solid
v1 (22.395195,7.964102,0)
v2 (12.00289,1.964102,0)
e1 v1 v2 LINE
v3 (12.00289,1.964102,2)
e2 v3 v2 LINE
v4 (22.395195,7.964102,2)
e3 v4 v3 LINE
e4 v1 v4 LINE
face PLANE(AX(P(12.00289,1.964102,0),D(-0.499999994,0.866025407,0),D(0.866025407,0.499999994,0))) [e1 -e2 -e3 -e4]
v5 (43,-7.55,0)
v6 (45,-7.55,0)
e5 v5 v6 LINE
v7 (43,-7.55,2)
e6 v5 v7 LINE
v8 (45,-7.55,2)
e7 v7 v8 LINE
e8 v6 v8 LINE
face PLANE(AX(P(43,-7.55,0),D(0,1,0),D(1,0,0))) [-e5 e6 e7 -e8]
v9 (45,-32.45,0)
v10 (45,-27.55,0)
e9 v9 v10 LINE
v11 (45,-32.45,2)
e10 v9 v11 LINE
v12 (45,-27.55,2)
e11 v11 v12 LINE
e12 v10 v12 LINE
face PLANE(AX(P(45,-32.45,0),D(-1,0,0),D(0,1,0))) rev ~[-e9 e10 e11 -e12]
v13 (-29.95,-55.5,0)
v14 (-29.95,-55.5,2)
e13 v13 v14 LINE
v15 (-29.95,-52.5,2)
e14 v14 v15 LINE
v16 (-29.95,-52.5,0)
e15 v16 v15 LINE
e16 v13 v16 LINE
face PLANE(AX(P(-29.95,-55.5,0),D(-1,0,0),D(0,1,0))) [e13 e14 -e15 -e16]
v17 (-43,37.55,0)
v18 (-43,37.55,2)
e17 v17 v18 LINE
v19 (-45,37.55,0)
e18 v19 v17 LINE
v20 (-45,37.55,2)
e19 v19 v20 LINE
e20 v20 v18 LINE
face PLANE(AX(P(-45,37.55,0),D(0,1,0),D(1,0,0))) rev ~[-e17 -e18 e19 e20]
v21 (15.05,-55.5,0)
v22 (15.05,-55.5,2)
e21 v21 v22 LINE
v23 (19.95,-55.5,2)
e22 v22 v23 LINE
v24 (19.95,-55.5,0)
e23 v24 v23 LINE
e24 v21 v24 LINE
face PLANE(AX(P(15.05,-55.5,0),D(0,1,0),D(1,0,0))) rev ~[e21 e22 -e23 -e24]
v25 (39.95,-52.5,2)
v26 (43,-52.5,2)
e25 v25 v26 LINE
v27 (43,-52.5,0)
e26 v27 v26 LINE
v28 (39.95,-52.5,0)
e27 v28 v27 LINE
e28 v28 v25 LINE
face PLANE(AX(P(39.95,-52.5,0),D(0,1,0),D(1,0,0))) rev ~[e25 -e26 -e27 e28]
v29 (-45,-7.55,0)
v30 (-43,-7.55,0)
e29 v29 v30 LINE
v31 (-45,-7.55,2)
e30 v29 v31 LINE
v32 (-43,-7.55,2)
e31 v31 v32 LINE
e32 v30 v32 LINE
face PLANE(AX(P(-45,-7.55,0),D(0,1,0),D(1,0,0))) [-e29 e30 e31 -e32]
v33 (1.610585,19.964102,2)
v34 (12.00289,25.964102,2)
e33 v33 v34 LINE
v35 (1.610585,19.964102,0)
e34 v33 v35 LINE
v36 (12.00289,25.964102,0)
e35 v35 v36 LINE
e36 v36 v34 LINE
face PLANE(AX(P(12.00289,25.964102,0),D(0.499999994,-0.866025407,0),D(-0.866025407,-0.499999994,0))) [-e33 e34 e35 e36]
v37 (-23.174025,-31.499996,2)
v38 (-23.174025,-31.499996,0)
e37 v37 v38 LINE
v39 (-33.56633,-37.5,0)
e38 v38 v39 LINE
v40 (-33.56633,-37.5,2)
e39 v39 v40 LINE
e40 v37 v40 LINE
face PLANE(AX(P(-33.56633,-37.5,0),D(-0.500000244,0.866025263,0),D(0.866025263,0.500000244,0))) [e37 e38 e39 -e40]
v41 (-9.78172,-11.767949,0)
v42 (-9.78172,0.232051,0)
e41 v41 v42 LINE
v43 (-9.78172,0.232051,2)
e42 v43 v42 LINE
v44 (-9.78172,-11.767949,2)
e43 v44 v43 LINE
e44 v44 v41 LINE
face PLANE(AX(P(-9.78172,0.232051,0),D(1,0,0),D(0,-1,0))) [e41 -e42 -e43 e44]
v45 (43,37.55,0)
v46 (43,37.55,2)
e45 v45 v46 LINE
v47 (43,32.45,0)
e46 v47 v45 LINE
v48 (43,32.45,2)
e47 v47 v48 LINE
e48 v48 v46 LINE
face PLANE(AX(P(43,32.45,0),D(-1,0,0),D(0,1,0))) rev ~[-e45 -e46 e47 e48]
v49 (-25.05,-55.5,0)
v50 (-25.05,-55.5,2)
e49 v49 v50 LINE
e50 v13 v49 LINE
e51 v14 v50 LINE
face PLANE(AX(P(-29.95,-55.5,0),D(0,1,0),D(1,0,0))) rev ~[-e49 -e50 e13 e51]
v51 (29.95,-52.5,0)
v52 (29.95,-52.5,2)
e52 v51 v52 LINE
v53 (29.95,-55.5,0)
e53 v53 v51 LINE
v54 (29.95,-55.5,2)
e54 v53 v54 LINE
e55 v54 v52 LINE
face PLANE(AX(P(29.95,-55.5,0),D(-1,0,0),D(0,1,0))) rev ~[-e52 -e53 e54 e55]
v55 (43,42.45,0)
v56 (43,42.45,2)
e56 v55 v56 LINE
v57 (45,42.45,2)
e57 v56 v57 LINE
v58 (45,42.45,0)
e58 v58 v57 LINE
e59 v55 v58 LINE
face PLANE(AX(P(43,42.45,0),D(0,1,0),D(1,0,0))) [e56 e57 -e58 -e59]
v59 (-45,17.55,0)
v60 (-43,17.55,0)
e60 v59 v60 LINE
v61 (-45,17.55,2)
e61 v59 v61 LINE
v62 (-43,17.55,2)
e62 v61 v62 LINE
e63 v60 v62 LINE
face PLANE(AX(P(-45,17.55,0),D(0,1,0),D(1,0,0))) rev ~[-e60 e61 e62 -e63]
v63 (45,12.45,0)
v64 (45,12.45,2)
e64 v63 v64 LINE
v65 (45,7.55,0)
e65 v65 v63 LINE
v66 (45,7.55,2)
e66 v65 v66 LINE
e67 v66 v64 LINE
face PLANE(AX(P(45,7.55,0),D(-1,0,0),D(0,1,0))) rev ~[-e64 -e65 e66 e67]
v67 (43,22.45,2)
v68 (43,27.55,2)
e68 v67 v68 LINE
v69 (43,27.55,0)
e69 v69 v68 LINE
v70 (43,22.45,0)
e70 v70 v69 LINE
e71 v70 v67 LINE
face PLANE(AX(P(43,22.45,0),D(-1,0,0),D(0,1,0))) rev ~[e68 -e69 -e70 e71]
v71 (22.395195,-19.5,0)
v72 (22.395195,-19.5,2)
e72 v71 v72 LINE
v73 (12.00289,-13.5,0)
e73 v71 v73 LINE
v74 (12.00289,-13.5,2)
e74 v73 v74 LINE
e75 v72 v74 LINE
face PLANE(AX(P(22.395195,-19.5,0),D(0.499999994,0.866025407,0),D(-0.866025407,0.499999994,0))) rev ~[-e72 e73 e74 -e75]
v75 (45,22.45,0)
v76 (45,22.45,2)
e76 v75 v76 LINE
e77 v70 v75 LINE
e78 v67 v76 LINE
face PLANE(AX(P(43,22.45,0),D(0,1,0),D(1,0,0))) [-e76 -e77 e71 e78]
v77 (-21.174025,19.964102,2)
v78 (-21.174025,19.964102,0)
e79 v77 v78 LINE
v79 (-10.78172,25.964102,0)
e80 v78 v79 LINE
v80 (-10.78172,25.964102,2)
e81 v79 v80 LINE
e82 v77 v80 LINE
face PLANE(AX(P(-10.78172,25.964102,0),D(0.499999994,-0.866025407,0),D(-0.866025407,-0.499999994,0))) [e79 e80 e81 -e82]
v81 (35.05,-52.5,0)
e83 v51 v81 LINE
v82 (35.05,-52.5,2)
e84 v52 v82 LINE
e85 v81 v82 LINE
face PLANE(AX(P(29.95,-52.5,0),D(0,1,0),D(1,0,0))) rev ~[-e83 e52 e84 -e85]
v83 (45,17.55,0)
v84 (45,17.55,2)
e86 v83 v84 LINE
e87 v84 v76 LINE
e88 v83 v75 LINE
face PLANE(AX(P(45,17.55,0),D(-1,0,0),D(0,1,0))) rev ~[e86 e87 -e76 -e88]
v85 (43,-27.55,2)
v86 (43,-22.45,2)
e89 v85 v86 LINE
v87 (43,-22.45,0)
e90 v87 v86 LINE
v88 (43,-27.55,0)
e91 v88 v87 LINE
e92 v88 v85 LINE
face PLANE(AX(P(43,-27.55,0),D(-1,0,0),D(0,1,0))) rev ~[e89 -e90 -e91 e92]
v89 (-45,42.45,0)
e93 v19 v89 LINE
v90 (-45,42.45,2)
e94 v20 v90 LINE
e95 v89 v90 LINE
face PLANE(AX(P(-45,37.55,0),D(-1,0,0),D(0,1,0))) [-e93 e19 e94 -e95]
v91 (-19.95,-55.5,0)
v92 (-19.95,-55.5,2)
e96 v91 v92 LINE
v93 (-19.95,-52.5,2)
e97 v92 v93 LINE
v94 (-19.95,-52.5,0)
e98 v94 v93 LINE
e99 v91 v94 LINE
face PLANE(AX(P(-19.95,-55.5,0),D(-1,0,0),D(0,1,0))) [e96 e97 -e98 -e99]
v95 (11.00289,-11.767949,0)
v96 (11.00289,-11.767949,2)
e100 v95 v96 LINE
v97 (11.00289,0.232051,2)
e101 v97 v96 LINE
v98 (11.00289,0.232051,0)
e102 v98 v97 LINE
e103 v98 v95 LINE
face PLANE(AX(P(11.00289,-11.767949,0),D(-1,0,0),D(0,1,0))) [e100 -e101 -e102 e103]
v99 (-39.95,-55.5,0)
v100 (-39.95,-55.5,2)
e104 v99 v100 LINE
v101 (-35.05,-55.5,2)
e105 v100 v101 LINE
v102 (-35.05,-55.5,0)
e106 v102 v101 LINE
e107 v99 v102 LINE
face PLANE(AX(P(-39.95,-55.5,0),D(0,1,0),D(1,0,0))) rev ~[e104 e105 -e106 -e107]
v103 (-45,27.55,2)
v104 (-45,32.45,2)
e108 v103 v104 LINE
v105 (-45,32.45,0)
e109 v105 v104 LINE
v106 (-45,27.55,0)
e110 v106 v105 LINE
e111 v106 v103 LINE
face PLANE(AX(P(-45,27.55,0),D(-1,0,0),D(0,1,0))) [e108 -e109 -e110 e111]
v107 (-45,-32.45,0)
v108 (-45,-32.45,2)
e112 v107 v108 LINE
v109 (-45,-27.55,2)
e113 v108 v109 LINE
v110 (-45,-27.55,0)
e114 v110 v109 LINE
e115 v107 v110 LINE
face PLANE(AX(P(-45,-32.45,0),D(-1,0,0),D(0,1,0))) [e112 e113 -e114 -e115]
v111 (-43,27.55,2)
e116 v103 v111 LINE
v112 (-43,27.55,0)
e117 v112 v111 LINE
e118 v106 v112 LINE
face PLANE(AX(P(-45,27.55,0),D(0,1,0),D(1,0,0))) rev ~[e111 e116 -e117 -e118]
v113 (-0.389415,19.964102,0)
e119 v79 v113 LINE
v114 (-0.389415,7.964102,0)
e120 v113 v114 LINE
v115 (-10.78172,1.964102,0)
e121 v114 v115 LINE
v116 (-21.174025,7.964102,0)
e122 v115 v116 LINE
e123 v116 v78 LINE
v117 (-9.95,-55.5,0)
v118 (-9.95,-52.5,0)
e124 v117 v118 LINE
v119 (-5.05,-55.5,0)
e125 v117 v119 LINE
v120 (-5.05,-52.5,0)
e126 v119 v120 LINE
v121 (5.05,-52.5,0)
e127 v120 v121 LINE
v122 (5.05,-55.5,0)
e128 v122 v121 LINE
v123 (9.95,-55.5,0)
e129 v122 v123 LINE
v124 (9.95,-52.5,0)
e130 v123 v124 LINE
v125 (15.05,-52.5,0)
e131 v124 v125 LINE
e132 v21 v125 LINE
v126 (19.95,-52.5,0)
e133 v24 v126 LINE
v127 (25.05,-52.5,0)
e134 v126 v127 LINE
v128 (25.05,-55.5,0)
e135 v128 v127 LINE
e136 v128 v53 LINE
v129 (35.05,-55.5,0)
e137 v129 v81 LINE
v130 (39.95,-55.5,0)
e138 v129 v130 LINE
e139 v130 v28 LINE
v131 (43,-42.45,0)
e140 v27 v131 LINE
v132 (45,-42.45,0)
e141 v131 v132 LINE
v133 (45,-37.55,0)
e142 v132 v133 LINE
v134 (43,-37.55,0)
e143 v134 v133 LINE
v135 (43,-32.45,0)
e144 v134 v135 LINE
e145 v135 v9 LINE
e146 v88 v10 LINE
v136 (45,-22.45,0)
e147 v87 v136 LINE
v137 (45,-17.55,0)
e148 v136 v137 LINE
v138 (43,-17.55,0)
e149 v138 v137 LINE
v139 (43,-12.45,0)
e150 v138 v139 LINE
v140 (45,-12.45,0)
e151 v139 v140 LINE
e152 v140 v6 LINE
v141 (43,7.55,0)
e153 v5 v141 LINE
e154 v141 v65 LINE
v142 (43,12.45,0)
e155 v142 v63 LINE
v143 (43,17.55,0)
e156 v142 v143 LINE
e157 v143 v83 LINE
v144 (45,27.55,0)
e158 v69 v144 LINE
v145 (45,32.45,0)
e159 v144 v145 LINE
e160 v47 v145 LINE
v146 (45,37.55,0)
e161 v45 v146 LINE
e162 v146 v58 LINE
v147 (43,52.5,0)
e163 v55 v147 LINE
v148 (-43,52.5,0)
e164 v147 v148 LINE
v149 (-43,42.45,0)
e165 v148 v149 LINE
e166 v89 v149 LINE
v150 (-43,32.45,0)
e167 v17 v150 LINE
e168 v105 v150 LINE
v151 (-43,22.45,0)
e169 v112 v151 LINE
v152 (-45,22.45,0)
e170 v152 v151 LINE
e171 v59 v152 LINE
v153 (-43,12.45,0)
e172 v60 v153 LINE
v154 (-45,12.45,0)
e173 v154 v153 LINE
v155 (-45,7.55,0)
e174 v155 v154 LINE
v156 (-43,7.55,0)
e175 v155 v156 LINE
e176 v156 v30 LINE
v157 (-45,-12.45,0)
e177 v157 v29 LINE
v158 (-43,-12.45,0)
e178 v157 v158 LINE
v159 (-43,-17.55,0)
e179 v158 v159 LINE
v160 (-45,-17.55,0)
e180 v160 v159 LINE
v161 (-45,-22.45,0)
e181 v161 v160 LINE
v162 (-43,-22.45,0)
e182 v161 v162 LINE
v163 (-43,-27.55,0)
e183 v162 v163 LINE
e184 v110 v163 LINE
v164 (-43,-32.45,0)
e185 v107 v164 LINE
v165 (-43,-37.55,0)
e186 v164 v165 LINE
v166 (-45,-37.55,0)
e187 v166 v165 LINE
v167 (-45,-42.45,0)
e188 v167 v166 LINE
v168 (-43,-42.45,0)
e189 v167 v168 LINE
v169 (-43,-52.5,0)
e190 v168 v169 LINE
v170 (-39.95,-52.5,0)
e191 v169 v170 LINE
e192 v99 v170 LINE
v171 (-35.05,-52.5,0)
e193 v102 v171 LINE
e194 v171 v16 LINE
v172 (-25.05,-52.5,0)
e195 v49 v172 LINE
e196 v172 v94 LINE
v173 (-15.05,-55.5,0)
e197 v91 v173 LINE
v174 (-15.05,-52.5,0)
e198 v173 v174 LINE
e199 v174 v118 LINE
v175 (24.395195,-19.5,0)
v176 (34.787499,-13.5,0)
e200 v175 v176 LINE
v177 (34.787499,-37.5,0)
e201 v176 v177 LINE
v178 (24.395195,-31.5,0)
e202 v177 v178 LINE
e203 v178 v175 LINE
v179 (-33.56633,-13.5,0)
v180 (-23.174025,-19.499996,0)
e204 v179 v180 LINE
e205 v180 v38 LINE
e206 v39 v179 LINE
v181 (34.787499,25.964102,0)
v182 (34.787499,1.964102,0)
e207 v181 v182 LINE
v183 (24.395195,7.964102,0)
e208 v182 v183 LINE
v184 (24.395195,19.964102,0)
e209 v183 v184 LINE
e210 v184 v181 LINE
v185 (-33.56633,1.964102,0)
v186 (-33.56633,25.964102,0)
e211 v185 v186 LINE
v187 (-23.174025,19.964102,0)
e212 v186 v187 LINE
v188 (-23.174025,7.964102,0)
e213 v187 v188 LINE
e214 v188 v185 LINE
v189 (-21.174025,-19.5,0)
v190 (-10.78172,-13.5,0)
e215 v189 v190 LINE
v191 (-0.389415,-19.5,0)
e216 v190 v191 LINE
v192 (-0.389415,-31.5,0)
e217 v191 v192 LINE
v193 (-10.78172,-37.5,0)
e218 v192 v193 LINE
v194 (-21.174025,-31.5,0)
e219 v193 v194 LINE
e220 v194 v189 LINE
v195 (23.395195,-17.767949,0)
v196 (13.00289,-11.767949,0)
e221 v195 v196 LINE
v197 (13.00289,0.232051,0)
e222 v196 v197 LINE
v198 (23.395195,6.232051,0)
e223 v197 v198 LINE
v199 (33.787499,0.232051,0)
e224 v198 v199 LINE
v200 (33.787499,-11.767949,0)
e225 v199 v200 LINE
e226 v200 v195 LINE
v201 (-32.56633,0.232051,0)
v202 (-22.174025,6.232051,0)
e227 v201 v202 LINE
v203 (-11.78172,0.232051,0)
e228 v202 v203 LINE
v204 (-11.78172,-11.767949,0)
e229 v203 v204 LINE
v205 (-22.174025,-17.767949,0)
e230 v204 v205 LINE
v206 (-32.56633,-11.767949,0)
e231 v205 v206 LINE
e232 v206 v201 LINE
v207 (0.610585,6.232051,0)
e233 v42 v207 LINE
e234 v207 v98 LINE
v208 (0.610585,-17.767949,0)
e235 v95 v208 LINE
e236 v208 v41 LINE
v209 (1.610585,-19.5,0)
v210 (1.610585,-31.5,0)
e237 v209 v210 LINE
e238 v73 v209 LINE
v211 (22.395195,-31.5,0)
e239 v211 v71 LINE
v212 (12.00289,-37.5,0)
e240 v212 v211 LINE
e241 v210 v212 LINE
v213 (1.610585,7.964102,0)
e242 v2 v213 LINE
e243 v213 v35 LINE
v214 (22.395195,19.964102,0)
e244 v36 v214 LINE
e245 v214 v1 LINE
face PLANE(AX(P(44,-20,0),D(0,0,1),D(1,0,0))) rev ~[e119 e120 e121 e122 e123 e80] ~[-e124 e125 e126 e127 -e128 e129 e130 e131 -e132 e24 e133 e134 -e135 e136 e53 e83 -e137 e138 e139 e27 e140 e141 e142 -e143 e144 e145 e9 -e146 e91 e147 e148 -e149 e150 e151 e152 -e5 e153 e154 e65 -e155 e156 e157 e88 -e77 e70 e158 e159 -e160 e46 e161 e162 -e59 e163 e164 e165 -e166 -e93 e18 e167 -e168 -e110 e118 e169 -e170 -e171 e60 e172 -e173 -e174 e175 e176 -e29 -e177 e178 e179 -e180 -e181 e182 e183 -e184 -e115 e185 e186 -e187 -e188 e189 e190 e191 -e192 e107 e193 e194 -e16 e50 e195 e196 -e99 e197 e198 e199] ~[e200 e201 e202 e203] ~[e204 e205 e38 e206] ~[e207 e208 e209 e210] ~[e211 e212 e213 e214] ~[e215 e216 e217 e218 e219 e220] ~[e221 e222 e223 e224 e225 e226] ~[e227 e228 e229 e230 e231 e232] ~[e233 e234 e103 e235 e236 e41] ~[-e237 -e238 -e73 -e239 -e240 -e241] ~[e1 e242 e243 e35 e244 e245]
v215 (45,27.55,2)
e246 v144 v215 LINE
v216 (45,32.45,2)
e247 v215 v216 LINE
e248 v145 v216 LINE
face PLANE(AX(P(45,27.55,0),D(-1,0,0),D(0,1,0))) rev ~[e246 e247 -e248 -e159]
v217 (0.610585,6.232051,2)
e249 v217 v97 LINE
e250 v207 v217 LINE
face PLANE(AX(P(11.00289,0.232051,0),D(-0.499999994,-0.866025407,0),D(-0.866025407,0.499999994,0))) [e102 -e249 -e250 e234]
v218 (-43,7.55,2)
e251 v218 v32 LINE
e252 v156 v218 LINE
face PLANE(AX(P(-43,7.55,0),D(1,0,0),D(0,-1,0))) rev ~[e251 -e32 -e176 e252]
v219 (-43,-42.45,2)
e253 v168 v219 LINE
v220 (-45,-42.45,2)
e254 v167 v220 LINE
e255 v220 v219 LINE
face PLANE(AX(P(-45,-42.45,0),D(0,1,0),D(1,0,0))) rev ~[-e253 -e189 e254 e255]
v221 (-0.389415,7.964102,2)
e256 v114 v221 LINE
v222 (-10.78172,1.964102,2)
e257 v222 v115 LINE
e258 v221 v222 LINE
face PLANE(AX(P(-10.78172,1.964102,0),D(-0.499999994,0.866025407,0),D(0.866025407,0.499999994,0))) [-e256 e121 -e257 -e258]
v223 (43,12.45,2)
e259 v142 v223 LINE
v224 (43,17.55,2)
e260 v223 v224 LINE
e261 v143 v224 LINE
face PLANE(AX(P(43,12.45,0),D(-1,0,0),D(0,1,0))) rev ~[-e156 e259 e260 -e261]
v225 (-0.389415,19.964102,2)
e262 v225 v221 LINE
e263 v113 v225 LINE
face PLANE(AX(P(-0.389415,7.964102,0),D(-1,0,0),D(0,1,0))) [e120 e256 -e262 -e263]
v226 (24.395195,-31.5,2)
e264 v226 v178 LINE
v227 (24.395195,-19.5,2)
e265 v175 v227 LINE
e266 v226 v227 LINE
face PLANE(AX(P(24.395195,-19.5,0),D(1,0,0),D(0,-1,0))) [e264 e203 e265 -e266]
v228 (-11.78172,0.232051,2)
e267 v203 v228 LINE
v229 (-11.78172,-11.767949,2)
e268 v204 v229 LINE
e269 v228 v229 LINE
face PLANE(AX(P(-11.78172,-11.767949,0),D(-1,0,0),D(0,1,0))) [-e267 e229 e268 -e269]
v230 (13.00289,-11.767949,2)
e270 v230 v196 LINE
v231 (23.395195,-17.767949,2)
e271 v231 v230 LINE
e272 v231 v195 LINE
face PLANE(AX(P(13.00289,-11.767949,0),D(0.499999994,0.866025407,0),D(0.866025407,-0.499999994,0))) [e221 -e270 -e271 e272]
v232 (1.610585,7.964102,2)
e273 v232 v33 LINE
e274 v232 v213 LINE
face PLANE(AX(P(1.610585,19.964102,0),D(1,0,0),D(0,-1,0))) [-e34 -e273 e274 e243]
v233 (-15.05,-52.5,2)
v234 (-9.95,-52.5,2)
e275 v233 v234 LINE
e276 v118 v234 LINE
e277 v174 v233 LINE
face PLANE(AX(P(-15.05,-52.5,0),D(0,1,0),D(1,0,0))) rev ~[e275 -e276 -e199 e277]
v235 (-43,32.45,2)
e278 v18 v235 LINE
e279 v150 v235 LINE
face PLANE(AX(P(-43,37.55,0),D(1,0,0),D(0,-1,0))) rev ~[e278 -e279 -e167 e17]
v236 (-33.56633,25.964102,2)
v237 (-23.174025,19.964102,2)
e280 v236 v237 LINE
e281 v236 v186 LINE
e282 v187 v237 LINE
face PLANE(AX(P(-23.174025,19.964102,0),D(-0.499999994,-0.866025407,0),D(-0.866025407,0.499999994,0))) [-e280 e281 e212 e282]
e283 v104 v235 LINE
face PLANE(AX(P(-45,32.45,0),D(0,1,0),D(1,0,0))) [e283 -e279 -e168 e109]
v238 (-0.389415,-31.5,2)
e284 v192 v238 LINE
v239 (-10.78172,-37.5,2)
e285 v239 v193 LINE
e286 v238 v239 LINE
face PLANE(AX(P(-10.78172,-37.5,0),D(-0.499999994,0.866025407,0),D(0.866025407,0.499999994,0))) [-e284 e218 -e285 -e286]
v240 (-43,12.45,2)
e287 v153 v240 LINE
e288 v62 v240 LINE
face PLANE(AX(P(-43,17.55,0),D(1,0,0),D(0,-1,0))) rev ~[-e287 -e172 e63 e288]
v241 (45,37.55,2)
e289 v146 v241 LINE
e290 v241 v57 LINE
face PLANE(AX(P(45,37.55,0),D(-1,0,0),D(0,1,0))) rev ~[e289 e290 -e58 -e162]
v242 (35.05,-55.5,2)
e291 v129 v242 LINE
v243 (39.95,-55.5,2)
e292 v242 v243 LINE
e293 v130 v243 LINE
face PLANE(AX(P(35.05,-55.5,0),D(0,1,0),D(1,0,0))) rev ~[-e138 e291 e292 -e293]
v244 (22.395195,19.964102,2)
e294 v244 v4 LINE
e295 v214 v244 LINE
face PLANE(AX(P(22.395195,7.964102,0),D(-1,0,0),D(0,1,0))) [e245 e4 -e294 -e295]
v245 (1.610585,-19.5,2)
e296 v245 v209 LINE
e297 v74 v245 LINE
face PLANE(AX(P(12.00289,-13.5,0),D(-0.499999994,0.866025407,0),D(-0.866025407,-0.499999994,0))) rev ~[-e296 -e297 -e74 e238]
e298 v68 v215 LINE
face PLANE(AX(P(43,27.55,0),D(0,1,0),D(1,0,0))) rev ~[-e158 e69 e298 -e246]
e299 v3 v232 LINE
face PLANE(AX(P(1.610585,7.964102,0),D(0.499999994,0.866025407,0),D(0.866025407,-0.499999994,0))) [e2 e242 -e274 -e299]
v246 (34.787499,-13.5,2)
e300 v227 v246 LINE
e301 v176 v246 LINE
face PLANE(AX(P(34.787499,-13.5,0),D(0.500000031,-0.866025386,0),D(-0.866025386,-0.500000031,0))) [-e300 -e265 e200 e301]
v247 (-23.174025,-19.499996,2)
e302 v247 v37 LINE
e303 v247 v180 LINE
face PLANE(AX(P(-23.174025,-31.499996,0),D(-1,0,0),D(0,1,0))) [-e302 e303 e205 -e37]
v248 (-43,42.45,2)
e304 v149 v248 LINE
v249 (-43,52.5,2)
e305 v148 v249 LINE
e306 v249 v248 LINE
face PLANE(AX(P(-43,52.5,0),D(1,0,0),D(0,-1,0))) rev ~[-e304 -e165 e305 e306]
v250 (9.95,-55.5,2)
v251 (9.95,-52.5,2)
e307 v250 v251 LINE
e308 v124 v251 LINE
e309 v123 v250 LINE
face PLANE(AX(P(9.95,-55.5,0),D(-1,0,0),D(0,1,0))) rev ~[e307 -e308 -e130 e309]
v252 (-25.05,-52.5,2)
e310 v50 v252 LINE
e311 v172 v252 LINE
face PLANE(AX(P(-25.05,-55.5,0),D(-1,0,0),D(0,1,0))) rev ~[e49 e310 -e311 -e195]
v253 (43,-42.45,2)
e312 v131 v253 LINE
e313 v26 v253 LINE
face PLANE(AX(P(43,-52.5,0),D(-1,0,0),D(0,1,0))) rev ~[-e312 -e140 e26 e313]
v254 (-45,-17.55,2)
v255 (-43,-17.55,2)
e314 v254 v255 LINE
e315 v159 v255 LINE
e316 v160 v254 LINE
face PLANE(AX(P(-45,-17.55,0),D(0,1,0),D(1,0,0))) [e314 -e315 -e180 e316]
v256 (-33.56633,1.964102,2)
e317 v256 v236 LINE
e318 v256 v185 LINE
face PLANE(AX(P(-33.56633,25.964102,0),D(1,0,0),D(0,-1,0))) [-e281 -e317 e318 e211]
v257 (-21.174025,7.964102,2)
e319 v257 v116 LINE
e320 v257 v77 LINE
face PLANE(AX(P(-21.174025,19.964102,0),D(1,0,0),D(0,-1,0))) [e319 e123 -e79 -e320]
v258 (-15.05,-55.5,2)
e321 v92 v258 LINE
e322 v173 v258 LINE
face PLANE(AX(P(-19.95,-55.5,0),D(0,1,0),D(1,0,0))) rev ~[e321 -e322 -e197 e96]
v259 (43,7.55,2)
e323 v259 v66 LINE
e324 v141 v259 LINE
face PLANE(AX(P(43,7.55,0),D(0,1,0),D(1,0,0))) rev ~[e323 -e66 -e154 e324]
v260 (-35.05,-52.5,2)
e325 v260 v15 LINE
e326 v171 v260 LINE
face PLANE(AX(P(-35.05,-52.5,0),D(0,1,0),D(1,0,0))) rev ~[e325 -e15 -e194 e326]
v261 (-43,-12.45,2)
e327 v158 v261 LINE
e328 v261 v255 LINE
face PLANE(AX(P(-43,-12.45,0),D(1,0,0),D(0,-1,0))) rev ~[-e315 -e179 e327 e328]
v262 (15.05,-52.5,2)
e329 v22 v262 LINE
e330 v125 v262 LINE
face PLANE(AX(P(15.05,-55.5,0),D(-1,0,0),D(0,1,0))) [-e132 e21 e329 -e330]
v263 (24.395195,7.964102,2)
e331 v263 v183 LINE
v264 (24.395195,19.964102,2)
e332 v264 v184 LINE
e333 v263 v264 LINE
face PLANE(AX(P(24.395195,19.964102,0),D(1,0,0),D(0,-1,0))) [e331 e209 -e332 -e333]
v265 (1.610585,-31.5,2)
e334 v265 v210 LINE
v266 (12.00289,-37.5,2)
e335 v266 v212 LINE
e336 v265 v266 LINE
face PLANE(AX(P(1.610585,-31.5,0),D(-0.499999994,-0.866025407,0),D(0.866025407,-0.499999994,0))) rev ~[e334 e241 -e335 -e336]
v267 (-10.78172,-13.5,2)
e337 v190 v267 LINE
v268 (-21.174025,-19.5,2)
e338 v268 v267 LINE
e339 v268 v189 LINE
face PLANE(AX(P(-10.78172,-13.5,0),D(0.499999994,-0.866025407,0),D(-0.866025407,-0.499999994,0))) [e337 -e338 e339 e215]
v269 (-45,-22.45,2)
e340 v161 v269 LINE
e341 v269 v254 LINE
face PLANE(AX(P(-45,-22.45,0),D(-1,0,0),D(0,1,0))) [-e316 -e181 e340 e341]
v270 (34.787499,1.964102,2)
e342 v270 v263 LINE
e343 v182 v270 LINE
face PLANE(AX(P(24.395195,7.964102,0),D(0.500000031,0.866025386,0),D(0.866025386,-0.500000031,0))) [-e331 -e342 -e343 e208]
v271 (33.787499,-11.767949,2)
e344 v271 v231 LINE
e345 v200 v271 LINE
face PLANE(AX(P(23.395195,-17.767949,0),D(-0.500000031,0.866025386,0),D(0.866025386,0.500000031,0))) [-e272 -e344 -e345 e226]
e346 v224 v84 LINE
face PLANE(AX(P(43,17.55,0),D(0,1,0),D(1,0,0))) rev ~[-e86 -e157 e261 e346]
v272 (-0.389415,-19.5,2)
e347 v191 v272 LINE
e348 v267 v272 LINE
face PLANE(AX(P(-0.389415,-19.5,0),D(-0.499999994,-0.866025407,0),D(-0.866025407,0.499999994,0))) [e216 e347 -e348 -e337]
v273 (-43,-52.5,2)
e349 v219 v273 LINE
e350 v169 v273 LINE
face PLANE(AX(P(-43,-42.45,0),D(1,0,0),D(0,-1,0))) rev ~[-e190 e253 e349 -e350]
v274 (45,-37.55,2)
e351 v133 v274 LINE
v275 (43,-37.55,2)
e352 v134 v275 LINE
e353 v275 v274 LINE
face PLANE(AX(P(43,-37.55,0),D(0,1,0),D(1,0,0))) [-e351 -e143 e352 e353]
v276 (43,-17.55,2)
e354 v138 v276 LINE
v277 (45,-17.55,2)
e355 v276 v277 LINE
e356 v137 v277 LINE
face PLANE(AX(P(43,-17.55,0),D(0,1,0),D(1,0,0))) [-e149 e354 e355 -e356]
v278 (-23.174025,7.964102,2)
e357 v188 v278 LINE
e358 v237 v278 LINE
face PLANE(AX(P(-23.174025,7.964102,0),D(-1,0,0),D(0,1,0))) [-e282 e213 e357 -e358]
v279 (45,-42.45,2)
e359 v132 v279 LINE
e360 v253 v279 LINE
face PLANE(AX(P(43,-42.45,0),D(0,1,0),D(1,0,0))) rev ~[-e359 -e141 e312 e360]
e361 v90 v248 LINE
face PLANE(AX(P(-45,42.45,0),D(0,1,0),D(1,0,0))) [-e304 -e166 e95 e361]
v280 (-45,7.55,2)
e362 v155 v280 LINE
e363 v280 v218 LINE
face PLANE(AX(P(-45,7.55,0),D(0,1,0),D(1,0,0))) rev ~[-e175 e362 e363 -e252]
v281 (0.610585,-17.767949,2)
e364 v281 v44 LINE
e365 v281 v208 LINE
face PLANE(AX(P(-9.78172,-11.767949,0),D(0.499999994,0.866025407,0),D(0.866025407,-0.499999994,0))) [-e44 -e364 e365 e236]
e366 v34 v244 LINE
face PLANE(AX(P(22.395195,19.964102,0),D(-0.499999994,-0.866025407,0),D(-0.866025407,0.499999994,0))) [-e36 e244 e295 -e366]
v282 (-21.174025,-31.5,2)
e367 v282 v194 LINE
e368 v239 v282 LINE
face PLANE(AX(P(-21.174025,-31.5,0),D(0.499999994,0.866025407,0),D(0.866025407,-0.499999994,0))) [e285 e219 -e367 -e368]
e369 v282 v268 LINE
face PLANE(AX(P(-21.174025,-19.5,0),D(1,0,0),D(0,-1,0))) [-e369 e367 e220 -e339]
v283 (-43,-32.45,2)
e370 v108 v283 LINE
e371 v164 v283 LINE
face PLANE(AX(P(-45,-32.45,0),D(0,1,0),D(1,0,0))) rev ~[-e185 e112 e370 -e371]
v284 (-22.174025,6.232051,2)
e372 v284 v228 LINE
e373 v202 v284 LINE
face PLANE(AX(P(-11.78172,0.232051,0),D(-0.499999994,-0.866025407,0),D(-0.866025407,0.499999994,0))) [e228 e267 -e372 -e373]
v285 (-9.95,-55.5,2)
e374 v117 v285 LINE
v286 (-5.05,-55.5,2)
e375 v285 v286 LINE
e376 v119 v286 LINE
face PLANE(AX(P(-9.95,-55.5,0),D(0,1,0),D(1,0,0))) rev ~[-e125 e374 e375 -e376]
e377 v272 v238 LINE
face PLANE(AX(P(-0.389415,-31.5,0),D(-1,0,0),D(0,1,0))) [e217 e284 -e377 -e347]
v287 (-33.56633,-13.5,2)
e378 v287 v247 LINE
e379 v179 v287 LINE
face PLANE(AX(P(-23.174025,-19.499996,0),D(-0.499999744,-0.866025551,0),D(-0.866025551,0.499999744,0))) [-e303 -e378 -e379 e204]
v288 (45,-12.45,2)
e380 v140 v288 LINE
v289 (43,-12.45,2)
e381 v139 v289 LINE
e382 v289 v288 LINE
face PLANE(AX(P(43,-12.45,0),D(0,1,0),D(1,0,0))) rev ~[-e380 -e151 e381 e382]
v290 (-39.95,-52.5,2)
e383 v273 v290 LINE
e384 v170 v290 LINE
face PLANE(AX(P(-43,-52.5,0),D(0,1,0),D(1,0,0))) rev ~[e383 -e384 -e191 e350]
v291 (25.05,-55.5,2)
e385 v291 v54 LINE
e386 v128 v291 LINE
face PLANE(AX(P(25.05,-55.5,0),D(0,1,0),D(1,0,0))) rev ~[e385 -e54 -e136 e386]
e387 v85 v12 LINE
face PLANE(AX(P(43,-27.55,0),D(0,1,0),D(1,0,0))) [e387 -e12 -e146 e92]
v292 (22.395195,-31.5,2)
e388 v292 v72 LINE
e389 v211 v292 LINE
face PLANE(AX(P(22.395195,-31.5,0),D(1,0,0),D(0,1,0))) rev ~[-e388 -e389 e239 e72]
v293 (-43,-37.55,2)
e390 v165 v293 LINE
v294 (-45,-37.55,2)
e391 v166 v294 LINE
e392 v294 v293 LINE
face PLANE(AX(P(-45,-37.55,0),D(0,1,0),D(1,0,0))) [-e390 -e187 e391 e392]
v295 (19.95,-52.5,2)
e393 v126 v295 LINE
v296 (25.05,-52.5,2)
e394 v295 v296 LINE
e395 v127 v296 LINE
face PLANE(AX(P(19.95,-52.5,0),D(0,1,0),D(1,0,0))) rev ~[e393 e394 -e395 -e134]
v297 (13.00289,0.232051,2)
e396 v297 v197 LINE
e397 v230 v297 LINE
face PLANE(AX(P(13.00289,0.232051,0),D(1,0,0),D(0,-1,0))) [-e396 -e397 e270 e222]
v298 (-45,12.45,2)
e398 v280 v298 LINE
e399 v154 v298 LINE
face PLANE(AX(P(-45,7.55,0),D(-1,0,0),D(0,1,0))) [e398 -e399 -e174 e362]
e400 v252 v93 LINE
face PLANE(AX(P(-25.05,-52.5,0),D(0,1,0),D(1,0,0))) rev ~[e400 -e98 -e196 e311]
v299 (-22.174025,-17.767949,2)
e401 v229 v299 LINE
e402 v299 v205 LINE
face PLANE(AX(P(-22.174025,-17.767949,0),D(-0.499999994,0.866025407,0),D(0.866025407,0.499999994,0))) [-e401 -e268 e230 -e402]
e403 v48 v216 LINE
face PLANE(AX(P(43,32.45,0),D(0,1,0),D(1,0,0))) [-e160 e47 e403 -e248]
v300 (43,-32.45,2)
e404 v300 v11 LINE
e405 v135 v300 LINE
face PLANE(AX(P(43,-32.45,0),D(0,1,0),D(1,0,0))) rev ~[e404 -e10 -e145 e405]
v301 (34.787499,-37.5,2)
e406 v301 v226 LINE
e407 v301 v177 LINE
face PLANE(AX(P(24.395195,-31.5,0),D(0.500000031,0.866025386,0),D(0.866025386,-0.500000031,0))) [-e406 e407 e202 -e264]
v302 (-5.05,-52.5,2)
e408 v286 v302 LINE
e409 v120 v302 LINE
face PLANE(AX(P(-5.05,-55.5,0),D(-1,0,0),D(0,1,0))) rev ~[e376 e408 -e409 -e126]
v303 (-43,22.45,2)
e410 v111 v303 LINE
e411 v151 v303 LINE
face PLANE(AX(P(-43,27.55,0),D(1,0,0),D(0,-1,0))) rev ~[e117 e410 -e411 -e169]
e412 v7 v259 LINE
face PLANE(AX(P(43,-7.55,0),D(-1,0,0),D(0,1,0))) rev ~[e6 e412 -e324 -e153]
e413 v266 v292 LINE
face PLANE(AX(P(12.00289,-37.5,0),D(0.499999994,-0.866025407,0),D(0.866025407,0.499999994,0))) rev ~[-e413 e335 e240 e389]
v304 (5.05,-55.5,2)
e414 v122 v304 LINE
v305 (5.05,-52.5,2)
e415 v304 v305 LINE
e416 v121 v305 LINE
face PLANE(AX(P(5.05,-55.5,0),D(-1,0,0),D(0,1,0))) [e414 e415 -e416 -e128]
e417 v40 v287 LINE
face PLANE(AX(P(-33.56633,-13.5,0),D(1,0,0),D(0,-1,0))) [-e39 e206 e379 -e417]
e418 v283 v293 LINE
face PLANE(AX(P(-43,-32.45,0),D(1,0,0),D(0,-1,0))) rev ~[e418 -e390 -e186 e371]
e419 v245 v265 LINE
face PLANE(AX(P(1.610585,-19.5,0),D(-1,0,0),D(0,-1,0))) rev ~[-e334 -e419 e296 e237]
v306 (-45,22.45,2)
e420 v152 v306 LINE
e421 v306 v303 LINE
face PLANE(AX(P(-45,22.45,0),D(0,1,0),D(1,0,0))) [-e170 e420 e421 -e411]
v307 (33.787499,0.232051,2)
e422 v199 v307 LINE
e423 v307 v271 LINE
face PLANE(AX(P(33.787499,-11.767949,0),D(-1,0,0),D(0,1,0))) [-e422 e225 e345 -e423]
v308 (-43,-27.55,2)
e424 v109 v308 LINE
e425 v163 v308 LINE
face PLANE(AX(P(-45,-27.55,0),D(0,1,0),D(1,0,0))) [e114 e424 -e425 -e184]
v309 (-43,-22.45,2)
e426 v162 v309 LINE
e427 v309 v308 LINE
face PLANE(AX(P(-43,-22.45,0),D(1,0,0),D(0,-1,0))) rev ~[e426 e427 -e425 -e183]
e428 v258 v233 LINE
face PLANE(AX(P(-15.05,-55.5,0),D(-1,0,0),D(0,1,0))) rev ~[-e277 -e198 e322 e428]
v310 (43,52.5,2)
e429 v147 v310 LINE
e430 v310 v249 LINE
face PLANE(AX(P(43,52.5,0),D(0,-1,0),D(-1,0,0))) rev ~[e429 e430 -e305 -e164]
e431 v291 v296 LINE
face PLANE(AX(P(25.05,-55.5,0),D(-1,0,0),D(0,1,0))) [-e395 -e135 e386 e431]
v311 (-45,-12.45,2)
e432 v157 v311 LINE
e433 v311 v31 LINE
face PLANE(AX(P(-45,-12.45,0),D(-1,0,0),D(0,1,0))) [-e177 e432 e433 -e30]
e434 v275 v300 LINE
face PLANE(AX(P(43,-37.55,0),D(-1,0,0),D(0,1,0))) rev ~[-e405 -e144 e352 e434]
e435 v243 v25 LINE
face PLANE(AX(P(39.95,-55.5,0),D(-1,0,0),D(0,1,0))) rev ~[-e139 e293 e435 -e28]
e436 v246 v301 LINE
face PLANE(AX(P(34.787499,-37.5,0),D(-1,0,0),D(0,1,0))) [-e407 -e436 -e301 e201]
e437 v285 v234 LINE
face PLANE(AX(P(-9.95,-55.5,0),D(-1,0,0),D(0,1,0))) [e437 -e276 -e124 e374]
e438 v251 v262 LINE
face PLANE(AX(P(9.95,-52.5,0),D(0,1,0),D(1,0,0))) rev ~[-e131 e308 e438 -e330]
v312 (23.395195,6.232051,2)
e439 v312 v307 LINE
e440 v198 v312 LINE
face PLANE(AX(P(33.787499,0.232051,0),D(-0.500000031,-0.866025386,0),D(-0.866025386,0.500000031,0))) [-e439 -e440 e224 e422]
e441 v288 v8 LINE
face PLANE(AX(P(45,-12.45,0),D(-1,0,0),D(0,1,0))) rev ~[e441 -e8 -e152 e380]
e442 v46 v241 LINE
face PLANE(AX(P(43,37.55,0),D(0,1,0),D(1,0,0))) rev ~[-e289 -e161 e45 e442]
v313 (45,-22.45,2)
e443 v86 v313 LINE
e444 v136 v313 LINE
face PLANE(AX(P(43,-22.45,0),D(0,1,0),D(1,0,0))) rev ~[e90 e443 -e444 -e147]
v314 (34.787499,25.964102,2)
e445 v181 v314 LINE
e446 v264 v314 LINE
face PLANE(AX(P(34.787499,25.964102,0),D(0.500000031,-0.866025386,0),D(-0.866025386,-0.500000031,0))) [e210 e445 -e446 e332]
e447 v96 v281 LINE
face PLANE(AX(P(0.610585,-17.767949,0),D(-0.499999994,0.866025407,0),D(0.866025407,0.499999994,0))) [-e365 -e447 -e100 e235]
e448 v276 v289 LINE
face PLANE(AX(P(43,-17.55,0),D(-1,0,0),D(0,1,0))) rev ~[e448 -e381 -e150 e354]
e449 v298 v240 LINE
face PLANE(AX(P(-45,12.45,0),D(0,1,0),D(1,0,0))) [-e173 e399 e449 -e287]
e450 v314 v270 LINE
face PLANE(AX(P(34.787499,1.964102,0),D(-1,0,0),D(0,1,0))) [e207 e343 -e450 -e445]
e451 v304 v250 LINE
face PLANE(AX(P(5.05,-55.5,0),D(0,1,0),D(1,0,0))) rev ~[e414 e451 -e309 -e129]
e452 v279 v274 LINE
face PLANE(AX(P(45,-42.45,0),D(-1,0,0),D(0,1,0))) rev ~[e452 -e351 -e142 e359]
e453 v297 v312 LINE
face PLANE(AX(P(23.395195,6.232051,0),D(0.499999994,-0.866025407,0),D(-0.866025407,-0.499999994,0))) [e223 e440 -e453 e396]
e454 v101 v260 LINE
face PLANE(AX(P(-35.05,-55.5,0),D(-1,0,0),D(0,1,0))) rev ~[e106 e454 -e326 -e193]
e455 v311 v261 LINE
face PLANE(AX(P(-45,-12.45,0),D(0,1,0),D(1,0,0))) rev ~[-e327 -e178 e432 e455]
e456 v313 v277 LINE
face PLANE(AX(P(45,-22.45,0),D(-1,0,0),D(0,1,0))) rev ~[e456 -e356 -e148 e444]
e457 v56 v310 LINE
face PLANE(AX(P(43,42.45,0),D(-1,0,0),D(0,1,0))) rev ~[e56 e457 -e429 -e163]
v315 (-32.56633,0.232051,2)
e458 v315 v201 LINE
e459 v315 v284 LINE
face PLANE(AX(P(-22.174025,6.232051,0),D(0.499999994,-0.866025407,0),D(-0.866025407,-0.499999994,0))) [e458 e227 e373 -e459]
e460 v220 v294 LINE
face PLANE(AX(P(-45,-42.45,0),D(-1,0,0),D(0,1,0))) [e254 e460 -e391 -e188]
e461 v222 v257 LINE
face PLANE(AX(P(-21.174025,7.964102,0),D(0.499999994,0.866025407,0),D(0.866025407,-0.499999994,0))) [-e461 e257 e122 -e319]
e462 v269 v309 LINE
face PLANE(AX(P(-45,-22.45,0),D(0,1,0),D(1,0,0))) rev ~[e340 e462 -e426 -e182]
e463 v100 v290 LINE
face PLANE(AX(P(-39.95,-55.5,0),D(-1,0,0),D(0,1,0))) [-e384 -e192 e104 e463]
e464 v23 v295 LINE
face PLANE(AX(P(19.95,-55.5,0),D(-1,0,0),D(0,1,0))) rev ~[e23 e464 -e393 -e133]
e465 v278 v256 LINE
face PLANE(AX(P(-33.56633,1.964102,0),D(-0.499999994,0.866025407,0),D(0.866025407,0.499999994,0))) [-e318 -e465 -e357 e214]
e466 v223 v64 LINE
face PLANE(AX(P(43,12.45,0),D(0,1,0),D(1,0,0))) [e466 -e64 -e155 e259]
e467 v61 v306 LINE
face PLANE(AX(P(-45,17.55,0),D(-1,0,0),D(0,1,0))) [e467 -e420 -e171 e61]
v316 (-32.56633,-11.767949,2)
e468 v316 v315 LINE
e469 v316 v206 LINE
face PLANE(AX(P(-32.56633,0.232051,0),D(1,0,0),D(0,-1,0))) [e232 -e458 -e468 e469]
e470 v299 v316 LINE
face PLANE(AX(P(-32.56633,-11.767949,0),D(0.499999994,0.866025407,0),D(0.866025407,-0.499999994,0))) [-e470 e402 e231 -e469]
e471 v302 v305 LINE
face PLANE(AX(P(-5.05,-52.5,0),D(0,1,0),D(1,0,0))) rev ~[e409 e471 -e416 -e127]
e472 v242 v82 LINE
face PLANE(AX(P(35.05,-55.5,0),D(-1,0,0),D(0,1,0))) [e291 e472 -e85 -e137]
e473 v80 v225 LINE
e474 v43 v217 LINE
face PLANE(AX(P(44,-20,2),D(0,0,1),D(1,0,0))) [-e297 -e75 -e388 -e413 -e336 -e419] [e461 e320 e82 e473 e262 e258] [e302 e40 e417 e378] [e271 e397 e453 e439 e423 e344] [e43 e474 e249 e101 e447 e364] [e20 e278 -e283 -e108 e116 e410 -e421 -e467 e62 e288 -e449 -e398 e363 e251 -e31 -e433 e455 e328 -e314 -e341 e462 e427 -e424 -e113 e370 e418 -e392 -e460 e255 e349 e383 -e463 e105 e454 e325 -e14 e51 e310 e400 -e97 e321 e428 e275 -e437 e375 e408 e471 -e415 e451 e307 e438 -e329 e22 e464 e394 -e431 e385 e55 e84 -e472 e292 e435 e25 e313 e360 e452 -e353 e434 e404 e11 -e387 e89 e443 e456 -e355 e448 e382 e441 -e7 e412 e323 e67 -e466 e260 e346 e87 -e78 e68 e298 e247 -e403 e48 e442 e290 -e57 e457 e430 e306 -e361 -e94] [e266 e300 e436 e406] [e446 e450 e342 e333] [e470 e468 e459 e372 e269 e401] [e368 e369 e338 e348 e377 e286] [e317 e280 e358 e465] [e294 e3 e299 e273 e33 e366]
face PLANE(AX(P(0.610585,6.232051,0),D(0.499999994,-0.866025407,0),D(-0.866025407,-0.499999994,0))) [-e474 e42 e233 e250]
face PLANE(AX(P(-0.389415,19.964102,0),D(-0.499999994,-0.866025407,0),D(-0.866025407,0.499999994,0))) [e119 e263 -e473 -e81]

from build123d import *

# Parameters (mm, degrees)
F0_W     = 2
F0_H     = 4.9
F0_W_2   = 4.9
F0_H_2   = 3
F2_DEPTH = 2
F3_DEPTH = 12.5


with BuildPart() as f2:
    # F0 (on Top) → F2 (new body)
    with BuildSketch(Plane.XY):
        with Locations((44, -20)):
            Rectangle(F0_W, F0_H)
        with Locations((-7.5, -54)):
            Rectangle(F0_W_2, F0_H_2)
        with Locations((44, 30)):
            Rectangle(F0_W, F0_H)
        with Locations((17.5, -54)):
            Rectangle(F0_W_2, F0_H_2)
        with Locations((44, 20)):
            Rectangle(F0_W, F0_H)
        with Locations((-44, 30)):
            Rectangle(F0_W, F0_H)
        with Locations((-44, -30)):
            Rectangle(F0_W, F0_H)
        with Locations((44, 10)):
            Rectangle(F0_W, F0_H)
        with Locations((-44, 40)):
            Rectangle(F0_W, F0_H)
        with Locations((-44, -40)):
            Rectangle(F0_W, F0_H)
        with Locations((44, -10)):
            Rectangle(F0_W, F0_H)
        with Locations((-44, 20)):
            Rectangle(F0_W, F0_H)
        with Locations((-44, -20)):
            Rectangle(F0_W, F0_H)
        with Locations((44, 40)):
            Rectangle(F0_W, F0_H)
        with Locations((-44, 10)):
            Rectangle(F0_W, F0_H)
        with Locations((-44, -10)):
            Rectangle(F0_W, F0_H)
        with Locations((-27.5, -54)):
            Rectangle(F0_W_2, F0_H_2)
        with Locations((7.5, -54)):
            Rectangle(F0_W_2, F0_H_2)
        with Locations((-17.5, -54)):
            Rectangle(F0_W_2, F0_H_2)
        with Locations((-37.5, -54)):
            Rectangle(F0_W_2, F0_H_2)
        Polygon((43, 52.5), (-43, 52.5), (-43, 42.45), (-43, 37.55), (-43, 32.45), (-43, 27.55), (-43, 22.45), (-43, 17.55), (-43, 12.45), (-43, 7.55), (-43, -7.55), (-43, -12.45), (-43, -17.55), (-43, -22.45), (-43, -27.55), (-43, -32.45), (-43, -37.55), (-43, -42.45), (-43, -52.5), (-39.95, -52.5), (-35.05, -52.5), (-29.95, -52.5), (-25.05, -52.5), (-19.95, -52.5), (-15.05, -52.5), (-9.95, -52.5), (-5.05, -52.5), (5.05, -52.5), (9.95, -52.5), (15.05, -52.5), (19.95, -52.5), (25.05, -52.5), (29.95, -52.5), (35.05, -52.5), (39.95, -52.5), (43, -52.5), (43, -42.45), (43, -37.55), (43, -32.45), (43, -27.55), (43, -22.45), (43, -17.55), (43, -12.45), (43, -7.55), (43, 7.55), (43, 12.45), (43, 17.55), (43, 22.45), (43, 27.55), (43, 32.45), (43, 37.55), (43, 42.45), align=None)
        with Locations((27.5, -54)):
            Rectangle(F0_W_2, F0_H_2)
        with Locations((44, -30)):
            Rectangle(F0_W, F0_H)
        with Locations((37.5, -54)):
            Rectangle(F0_W_2, F0_H_2)
        with Locations((44, -40)):
            Rectangle(F0_W, F0_H)
    extrude(amount=F2_DEPTH)

    # F1 (on face) → F3 (cut, symmetric)
    with BuildSketch(Plane.XY):
        Polygon((-23.174025, -19.499996), (-33.56633, -13.5), (-33.56633, -37.5), (-23.174025, -31.499996), align=None)
        Polygon((-33.56633, 1.964102), (-23.174025, 7.964102), (-23.174025, 19.964102), (-33.56633, 25.964102), align=None)
        Polygon((-10.78172, 1.964102), (-0.389415, 7.964102), (-0.389415, 19.964102), (-10.78172, 25.964102), (-21.174025, 19.964102), (-21.174025, 7.964102), align=None)
        Polygon((12.00289, 1.964102), (22.395195, 7.964102), (22.395195, 19.964102), (12.00289, 25.964102), (1.610585, 19.964102), (1.610585, 7.964102), align=None)
        Polygon((24.395195, 7.964102), (34.787499, 1.964102), (34.787499, 25.964102), (24.395195, 19.964102), align=None)
        Polygon((34.787499, -37.5), (34.787499, -13.5), (24.395195, -19.5), (24.395195, -31.5), align=None)
        Polygon((-22.174025, -17.767949), (-11.78172, -11.767949), (-11.78172, 0.232051), (-22.174025, 6.232051), (-32.56633, 0.232051), (-32.56633, -11.767949), align=None)
        Polygon((0.610585, -17.767949), (11.00289, -11.767949), (11.00289, 0.232051), (0.610585, 6.232051), (-9.78172, 0.232051), (-9.78172, -11.767949), align=None)
        Polygon((23.395195, -17.767949), (33.787499, -11.767949), (33.787499, 0.232051), (23.395195, 6.232051), (13.00289, 0.232051), (13.00289, -11.767949), align=None)
        Polygon((-10.78172, -37.5), (-0.389415, -31.5), (-0.389415, -19.5), (-10.78172, -13.5), (-21.174025, -19.5), (-21.174025, -31.5), align=None)
        Polygon((12.00289, -37.5), (22.395195, -31.5), (22.395195, -19.5), (12.00289, -13.5), (1.610585, -19.5), (1.610585, -31.5), align=None)
    extrude(amount=F3_DEPTH, both=True, mode=Mode.SUBTRACT)


solid = f2.part
